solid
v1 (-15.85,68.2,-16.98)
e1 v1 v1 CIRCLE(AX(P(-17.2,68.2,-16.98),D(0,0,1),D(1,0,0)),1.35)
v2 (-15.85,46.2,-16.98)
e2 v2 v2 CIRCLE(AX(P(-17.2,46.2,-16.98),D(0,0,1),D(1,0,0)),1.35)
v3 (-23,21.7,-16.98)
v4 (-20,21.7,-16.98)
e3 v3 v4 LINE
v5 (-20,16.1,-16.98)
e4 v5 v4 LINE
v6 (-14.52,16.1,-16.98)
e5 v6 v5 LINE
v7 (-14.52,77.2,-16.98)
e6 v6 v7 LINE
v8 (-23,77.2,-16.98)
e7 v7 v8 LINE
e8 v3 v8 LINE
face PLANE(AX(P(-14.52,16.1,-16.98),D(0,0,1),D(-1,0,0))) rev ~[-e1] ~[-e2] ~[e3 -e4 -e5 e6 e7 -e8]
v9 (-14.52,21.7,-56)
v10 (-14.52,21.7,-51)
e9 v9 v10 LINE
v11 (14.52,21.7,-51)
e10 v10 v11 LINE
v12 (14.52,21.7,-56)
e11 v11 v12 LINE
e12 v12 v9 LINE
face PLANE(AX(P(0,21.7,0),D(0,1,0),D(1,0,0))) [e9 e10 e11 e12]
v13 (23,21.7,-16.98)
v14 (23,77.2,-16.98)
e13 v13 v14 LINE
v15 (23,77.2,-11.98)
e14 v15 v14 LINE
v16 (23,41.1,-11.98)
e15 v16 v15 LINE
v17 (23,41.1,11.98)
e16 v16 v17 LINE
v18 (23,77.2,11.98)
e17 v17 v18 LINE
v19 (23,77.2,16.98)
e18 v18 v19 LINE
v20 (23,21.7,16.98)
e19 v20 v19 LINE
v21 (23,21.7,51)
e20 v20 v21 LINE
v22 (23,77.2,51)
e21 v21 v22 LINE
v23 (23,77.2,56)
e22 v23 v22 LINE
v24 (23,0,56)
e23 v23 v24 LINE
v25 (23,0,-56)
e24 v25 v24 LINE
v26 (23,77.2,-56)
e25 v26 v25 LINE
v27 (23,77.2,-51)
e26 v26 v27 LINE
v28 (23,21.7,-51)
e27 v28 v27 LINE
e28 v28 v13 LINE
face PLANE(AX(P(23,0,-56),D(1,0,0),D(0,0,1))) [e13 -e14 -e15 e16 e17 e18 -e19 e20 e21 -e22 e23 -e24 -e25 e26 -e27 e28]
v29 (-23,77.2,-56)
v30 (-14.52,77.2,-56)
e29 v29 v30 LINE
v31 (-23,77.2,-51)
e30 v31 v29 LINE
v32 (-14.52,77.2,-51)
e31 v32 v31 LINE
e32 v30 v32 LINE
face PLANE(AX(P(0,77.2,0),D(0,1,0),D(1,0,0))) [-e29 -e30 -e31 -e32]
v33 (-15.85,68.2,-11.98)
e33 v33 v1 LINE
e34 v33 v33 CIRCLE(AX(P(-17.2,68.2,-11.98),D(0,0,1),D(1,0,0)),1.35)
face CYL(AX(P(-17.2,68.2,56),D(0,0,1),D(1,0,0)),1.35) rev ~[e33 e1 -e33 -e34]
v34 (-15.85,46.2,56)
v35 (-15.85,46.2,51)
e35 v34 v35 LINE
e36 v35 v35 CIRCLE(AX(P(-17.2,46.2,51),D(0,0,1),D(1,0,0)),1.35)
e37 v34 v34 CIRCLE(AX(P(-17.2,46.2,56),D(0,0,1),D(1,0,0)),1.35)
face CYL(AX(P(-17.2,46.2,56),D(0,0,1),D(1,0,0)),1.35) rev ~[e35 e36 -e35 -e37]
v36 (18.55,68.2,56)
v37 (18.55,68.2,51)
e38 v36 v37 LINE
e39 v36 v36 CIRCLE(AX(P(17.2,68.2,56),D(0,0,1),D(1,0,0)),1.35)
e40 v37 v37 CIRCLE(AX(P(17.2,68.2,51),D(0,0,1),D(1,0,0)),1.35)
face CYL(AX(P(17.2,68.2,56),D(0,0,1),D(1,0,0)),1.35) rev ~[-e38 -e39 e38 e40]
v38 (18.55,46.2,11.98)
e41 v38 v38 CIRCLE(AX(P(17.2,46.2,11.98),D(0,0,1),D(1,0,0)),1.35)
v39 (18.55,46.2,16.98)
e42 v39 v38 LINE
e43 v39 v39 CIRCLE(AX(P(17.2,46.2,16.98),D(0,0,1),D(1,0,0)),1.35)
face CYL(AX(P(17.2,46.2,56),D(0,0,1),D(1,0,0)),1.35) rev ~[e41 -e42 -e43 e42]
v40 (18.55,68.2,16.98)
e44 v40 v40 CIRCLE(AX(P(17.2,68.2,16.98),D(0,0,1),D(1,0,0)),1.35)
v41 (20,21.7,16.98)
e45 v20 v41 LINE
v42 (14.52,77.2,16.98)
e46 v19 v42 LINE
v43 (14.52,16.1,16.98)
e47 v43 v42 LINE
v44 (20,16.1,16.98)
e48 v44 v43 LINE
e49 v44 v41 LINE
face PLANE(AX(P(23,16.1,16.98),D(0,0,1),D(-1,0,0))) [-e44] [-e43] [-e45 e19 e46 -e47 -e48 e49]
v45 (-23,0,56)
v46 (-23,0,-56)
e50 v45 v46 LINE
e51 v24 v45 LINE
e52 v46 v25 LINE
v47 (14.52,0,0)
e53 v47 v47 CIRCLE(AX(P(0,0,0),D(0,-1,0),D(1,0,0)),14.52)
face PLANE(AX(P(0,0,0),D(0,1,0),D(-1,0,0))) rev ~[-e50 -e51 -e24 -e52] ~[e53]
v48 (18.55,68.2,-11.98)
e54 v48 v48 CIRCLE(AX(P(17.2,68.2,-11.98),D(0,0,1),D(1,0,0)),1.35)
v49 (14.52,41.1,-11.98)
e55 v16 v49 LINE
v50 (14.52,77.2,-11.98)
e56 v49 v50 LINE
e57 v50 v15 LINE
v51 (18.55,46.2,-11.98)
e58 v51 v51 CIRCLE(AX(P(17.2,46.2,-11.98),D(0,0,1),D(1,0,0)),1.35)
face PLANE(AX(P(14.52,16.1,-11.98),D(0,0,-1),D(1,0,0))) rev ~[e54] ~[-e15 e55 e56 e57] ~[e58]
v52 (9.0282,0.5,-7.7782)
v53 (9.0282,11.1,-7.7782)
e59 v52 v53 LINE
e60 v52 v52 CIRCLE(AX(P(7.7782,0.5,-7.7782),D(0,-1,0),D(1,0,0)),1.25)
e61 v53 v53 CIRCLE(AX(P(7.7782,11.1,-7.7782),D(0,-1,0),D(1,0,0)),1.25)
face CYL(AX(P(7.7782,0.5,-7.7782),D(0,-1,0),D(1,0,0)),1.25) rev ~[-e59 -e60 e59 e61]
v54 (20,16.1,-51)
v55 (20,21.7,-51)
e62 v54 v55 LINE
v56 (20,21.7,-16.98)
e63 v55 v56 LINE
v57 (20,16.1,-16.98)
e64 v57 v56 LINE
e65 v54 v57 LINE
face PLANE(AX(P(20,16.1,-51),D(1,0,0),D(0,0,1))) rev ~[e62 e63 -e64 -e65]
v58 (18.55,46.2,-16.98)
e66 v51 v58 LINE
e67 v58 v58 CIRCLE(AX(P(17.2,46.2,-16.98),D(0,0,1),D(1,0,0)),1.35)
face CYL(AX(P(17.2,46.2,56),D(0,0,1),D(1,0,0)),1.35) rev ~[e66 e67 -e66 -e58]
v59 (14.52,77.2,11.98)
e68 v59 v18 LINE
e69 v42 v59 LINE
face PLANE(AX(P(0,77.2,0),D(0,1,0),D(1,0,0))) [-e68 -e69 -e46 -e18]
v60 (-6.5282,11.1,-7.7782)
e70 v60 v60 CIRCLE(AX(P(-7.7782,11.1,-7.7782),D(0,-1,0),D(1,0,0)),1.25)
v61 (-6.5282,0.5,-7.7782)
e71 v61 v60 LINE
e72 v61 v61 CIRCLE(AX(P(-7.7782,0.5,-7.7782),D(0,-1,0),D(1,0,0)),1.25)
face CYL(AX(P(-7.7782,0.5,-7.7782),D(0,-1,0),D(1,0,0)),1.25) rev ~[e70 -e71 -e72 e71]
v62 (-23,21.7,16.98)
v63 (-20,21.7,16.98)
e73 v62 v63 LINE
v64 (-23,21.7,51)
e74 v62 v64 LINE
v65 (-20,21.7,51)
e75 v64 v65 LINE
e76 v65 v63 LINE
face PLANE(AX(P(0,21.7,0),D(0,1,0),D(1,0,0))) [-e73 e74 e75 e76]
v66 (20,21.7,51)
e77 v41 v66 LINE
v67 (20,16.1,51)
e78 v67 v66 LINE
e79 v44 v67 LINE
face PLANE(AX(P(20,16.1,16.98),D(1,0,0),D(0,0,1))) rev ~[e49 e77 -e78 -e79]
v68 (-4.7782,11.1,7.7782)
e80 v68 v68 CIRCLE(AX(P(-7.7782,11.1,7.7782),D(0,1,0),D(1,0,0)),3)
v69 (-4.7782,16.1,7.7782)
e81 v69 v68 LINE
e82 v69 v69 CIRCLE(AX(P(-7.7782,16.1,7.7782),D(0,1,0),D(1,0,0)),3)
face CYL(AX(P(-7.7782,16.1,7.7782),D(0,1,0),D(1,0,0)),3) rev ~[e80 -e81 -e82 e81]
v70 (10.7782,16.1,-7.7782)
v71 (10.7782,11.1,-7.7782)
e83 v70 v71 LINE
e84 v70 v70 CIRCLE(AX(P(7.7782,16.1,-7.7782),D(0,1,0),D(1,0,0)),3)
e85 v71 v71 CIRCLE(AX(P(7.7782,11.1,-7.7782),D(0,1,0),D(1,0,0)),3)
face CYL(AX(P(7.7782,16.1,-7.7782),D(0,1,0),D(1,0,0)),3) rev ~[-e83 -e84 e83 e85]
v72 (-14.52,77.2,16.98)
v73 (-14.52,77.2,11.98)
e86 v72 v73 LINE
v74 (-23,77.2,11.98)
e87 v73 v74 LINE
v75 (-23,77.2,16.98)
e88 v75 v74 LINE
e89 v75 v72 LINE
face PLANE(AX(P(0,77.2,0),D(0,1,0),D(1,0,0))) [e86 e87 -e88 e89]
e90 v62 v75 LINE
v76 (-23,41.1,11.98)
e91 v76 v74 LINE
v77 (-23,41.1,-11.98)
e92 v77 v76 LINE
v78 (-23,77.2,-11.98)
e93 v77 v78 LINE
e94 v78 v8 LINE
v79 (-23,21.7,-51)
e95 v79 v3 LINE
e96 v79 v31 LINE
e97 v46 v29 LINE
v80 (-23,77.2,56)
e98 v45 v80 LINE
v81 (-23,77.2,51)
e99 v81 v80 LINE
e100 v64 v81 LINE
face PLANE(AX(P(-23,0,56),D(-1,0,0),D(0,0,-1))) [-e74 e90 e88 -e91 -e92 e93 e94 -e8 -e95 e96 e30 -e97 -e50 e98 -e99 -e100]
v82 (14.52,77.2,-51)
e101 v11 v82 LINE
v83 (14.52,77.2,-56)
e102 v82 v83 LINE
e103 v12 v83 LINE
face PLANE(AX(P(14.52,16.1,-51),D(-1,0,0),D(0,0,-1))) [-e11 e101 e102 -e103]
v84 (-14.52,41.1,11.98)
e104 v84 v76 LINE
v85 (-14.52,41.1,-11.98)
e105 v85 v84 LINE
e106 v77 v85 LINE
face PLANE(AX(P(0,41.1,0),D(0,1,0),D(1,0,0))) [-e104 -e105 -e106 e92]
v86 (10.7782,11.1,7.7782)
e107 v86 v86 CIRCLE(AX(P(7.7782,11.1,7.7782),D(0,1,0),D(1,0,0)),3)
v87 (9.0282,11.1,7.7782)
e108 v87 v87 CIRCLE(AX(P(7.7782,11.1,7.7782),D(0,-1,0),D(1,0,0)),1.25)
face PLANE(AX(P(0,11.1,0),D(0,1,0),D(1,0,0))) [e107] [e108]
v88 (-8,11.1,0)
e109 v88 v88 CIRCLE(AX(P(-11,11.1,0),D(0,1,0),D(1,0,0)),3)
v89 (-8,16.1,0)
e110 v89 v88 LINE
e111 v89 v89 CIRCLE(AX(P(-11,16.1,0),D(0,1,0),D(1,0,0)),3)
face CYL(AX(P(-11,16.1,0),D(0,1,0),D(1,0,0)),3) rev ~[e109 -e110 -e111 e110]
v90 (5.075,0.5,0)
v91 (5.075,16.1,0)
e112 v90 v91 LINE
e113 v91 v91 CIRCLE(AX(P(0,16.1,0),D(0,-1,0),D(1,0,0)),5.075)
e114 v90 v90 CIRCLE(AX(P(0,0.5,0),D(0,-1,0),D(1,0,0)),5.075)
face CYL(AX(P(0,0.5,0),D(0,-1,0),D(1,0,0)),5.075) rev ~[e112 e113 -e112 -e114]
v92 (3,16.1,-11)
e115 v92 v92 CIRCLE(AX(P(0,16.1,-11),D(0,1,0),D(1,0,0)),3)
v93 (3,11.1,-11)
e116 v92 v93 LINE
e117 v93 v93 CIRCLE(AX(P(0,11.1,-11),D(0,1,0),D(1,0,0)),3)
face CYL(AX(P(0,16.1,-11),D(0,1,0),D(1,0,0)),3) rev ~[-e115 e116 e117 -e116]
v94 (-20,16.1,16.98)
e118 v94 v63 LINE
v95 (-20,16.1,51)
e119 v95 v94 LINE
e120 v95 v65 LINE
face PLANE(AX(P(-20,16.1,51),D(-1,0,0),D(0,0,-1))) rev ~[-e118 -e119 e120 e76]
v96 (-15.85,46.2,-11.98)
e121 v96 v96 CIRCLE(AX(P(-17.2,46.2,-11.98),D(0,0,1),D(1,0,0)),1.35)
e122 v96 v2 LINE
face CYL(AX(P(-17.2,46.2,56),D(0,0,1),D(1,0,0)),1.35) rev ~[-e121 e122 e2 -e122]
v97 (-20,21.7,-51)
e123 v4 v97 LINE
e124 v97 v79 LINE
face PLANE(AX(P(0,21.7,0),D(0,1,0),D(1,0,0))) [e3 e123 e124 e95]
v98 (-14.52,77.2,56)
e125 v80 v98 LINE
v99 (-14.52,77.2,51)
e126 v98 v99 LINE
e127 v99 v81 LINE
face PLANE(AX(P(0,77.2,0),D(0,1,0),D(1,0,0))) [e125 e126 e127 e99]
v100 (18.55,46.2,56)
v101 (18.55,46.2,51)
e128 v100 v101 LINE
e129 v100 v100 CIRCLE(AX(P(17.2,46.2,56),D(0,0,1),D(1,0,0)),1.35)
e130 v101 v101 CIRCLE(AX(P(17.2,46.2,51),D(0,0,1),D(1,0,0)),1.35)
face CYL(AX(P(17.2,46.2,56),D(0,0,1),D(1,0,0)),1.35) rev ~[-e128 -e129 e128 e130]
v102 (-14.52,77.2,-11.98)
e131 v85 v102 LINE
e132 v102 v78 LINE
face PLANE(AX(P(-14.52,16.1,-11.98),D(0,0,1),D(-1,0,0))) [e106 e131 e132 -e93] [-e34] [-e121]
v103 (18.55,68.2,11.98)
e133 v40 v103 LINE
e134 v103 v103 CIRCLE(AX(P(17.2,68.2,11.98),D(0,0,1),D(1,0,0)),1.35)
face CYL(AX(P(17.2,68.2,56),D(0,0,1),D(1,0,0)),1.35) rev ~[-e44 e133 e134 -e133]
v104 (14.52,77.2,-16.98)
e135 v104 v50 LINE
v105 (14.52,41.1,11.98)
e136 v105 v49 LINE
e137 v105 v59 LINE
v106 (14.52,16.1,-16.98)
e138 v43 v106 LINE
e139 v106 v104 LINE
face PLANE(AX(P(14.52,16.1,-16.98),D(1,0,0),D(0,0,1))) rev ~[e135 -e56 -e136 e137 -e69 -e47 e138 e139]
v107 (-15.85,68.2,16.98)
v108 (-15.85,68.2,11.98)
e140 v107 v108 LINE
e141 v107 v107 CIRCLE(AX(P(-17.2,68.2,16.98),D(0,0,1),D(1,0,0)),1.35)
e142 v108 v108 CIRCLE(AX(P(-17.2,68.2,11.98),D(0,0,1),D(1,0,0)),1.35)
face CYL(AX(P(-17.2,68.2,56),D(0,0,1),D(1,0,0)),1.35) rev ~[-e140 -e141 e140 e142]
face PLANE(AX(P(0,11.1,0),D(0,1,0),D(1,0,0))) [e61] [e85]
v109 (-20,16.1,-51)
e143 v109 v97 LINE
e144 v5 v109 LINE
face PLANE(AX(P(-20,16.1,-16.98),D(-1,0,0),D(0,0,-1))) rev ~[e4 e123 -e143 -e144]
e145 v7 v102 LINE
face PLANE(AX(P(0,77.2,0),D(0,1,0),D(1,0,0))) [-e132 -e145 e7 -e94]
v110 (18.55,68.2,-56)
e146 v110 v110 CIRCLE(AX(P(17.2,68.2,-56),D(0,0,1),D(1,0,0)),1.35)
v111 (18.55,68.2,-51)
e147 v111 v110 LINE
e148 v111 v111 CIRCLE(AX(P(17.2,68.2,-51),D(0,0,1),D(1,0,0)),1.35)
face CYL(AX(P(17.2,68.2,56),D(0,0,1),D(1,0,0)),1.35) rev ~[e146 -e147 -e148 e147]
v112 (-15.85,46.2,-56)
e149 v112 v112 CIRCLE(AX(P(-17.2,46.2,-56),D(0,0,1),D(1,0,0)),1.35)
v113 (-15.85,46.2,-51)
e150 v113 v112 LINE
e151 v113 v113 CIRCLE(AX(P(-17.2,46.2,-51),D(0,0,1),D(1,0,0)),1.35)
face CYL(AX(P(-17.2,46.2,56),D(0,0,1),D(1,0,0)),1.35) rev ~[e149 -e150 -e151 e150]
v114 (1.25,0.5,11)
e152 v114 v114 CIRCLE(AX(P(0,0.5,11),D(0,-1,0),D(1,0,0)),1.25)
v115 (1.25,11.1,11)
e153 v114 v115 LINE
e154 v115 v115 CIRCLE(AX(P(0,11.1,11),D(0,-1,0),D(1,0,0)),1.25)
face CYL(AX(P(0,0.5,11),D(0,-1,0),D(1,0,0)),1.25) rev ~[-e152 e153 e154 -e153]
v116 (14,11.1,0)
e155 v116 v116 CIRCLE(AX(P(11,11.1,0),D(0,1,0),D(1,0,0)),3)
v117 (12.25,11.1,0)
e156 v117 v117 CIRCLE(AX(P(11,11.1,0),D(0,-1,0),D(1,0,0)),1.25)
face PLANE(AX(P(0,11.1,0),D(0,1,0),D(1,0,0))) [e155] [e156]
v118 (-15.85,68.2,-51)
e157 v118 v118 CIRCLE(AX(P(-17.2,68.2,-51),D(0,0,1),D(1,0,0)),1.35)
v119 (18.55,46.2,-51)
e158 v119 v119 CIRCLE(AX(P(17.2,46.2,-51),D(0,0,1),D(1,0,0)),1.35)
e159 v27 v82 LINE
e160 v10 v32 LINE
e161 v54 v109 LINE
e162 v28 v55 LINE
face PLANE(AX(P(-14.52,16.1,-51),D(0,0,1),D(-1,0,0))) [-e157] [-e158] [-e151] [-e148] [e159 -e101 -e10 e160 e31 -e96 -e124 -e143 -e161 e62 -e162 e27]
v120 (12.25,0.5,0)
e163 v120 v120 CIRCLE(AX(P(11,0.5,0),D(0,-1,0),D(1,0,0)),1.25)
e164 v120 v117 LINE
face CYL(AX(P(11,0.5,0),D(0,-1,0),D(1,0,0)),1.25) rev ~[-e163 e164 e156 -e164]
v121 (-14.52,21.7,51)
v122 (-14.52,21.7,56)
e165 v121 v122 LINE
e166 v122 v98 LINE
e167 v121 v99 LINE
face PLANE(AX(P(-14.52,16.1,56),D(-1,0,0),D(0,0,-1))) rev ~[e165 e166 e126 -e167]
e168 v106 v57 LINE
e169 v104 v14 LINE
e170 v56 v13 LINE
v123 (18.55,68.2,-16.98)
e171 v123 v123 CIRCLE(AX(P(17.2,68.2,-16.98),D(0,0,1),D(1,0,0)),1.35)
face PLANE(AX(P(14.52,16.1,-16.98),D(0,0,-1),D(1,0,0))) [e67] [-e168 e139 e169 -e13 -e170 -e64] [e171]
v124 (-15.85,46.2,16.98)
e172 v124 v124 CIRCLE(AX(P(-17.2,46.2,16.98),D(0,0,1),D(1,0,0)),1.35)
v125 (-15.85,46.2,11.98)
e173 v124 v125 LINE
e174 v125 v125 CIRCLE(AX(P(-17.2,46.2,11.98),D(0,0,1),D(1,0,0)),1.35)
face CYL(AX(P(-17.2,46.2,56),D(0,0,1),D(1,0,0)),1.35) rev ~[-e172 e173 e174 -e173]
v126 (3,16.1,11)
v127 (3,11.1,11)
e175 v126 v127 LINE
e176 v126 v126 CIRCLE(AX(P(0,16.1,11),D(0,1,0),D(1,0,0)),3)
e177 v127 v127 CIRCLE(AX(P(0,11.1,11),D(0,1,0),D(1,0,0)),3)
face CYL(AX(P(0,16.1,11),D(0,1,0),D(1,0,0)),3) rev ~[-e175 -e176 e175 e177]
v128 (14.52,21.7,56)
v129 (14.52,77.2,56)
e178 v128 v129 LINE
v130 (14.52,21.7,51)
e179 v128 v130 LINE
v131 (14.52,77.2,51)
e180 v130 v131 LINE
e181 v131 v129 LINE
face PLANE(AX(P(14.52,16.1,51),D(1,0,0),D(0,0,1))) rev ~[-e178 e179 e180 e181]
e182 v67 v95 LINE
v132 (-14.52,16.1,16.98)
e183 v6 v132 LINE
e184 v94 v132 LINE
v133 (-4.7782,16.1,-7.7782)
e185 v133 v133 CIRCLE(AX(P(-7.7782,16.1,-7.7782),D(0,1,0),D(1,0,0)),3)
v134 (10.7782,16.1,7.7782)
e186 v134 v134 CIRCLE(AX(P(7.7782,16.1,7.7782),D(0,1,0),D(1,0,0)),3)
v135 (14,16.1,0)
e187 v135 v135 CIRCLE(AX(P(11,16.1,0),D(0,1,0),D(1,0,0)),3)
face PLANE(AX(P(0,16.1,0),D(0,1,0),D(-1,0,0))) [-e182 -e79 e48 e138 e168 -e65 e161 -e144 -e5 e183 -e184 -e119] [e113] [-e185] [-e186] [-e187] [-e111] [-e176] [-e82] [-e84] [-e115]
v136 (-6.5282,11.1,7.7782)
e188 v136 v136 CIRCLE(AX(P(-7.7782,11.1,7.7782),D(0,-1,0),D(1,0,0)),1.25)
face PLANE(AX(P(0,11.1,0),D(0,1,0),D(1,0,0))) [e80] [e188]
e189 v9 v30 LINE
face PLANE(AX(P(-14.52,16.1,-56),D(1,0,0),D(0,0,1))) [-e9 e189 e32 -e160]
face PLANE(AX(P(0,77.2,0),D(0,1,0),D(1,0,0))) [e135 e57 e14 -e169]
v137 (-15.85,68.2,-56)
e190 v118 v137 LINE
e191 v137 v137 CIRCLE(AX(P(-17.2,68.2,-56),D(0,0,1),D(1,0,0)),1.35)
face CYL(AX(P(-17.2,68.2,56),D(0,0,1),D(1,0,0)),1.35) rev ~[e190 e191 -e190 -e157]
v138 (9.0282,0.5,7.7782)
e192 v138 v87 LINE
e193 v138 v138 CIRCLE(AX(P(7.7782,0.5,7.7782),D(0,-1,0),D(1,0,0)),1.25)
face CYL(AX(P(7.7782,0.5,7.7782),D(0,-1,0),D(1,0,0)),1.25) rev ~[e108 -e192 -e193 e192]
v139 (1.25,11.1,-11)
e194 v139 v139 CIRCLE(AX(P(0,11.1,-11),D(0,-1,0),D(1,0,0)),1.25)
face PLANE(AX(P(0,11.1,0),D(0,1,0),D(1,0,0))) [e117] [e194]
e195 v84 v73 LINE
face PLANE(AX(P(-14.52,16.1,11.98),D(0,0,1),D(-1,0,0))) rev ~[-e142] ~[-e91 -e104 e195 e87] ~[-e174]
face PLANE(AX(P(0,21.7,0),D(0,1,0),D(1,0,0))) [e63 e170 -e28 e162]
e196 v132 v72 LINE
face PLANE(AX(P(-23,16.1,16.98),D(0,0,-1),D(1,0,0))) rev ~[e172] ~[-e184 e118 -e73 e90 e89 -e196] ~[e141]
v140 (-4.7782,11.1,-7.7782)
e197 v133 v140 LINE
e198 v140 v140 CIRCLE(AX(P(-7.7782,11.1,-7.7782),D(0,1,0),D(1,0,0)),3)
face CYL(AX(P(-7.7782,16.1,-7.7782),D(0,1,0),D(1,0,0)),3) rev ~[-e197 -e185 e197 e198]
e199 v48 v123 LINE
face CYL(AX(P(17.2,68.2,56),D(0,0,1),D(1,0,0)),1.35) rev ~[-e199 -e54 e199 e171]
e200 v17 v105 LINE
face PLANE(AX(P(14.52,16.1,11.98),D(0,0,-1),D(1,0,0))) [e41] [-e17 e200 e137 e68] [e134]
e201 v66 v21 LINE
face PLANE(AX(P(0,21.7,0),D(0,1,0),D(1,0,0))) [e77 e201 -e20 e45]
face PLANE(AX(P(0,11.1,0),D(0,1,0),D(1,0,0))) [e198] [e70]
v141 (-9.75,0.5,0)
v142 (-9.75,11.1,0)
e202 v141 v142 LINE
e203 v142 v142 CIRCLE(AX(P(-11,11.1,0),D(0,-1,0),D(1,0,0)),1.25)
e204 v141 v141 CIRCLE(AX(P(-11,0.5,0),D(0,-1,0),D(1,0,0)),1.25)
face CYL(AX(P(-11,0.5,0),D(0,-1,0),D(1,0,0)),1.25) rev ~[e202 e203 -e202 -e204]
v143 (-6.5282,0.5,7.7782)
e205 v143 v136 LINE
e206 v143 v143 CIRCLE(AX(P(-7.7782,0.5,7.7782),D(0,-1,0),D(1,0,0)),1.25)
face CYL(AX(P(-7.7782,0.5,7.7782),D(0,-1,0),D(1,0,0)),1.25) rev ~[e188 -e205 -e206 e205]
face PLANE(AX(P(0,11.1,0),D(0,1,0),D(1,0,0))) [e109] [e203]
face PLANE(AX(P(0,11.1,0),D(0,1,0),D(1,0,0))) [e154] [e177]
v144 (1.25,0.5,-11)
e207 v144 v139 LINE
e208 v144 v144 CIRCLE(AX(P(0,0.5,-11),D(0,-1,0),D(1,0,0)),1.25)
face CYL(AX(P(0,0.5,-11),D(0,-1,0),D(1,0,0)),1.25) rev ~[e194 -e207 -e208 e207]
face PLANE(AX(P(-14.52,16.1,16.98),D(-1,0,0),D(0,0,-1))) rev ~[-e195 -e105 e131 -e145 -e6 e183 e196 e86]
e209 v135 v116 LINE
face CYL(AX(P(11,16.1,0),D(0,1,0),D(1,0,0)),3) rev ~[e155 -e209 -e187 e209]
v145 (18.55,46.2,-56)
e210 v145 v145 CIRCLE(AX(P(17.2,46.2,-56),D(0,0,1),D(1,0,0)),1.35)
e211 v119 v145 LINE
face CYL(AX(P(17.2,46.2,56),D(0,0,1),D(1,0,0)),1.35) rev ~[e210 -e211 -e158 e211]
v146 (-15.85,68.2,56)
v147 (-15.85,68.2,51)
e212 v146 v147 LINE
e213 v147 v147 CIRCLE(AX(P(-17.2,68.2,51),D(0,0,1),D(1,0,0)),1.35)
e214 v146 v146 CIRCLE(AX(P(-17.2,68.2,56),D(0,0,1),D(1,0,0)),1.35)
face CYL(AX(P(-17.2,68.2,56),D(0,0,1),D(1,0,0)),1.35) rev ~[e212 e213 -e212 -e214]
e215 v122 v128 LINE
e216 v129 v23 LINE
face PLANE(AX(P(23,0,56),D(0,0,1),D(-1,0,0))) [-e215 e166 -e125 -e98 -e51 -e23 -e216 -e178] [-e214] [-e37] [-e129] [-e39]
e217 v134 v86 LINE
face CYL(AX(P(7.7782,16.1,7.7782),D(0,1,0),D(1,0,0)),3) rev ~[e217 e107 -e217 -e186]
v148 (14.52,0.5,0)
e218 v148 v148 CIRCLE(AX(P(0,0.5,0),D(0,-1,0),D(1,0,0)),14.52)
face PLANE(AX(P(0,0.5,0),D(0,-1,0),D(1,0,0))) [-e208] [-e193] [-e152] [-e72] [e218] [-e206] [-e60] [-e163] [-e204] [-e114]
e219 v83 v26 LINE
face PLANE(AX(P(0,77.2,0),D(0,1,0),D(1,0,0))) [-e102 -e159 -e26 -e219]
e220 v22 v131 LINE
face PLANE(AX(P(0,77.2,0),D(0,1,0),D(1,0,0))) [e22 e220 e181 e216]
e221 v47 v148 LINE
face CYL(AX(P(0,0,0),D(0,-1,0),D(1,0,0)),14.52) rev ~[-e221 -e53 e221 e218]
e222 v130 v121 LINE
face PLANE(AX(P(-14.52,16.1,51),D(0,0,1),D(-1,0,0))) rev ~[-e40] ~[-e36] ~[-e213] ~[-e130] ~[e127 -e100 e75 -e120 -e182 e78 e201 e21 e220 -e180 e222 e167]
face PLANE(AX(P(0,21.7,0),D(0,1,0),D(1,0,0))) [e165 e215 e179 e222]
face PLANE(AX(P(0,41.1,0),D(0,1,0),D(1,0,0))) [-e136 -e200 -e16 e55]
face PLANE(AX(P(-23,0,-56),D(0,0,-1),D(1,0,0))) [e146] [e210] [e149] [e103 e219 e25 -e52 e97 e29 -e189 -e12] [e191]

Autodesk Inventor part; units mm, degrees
ref_plane "YZ Plane" through (0, 0, 0) normal (1, 0, 0) x (0, 1, 0)
ref_plane "XZ Plane" through (0, 0, 0) normal (0, 1, 0) x (-1, 0, 0)
ref_plane "XY Plane" through (0, 0, 0) normal (0, 0, 1) x (1, 0, 0)
sketch "스케치1" plane through (0, 0, 0) normal (0, 1, 0) x (-1, 0, 0)
  line L0 (23, -56) -> (-23, -56)
  line L1 (-23, -56) -> (-23, 56)
  line L2 (-23, 56) -> (23, 56)
  line L3 (23, 56) -> (23, -56)
  point P0 (0, 0)
  dimension "d0" = 112
  dimension "d1" = 56
  dimension "d2" = 46
  dimension "d3" = 23
extrude "돌출1" add sketch "스케치1" along normal blind 16.1
sketch "스케치2" plane through (0, 0, 0) normal (0, -1, 0) x (1, 0, 0)
  circle A0 centre (0, 0) radius 14.52
  dimension "d6" = 29.04
extrude "돌출2" cut sketch "스케치2" against normal blind 0.5
sketch "스케치3" plane through (0, 0.5, 0) normal (0, -1, 0) x (1, 0, 0)
  circle A0 centre (0, 0) radius 5.075
  circle A1 centre (0, 11) radius 1.25
  circle A2 centre (-7.7782, 7.7782) radius 1.25
  circle A3 centre (-11, 0) radius 1.25
  circle A4 centre (-7.7782, -7.7782) radius 1.25
  circle A5 centre (0, -11) radius 1.25
  circle A6 centre (7.7782, -7.7782) radius 1.25
  circle A7 centre (11, 0) radius 1.25
  circle A8 centre (7.7782, 7.7782) radius 1.25
  dimension "d9" = 10.15
  dimension "d10" = 2.5
  dimension "d11" = 11
  dimension "d14" = 360
extrude "돌출3" cut sketch "스케치3" against normal blind 30
sketch "스케치4" plane through (0, 16.1, 0) normal (0, 1, 0) x (1, 0, 0)
  circle A0 centre (0, -11) radius 1.25 projected
  circle A1 centre (0, -11) radius 3
  circle A2 centre (7.7782, -7.7782) radius 3
  circle A3 centre (11, 0) radius 3
  circle A4 centre (7.7782, 7.7782) radius 3
  circle A5 centre (0, 11) radius 3
  circle A6 centre (-7.7782, 7.7782) radius 3
  circle A7 centre (-11, 0) radius 3
  circle A8 centre (-7.7782, -7.7782) radius 3
  point P0 (0, 0)
  dimension "d18" = 6
  dimension "d21" = 360
extrude "돌출4" cut sketch "스케치4" against normal blind 5 contours A0 | A1 | A2 | A3 | A4 | A5 | A6 | A7 | A8
sketch "스케치5" plane through (0, 16.1, 0) normal (0, 1, 0) x (1, 0, 0)
  line L0 (-23, -56) -> (23, -56)
  line L1 (23, -56) -> (23, -51)
  line L2 (23, -51) -> (-23, -51)
  line L3 (-23, -51) -> (-23, -56)
  line L4 (-23, -56) -> (23, -56) projected
  line L5 (-14.52, -51) -> (14.52, -51)
  line L6 (14.52, -51) -> (14.52, -56)
  line L7 (14.52, -56) -> (-14.52, -56)
  line L8 (-14.52, -56) -> (-14.52, -51)
  line L9 (0, 0) -> (-19.344, 0)
  line L10 (-23, 56) -> (23, 56)
  line L11 (23, 56) -> (23, 51)
  line L12 (23, 51) -> (-23, 51)
  line L13 (-23, 51) -> (-23, 56)
  line L14 (-23, 56) -> (23, 56)
  line L15 (-14.52, 51) -> (14.52, 51)
  line L16 (14.52, 51) -> (14.52, 56)
  line L17 (14.52, 56) -> (-14.52, 56)
  line L18 (-14.52, 56) -> (-14.52, 51)
  point P0 (-23, 56)
  dimension "d25" = 5
  dimension "d27" = 29.04
  dimension "d28" = 14.52
extrude "돌출5" add sketch "스케치5" along normal blind 61.1 contours L3 L2 L8 L0 | L6 L2 L1 L0 | L10 L18 L12 L13 | L10 L11 L12 L16
sketch "스케치6" plane through (0, 16.1, 0) normal (0, 1, 0) x (1, 0, 0)
  line L0 (-23, -56) -> (-23, 56) projected
  line L1 (-23, -16.98) -> (-14.52, -16.98)
  line L2 (-14.52, 16.98) -> (-23, 16.98)
  line L3 (-14.52, -51) -> (-23, -51) projected
  line L4 (-23, 51) -> (-14.52, 51) projected
  line L5 (-23, -16.98) -> (-14.52, -16.98)
  line L6 (-14.52, -16.98) -> (-14.52, -11.98)
  line L7 (-14.52, -11.98) -> (-23, -11.98)
  line L8 (-23, -11.98) -> (-23, -16.98)
  line L9 (-23, 16.98) -> (-14.52, 16.98)
  line L10 (-14.52, 16.98) -> (-14.52, 11.98)
  line L11 (-14.52, 11.98) -> (-23, 11.98)
  line L12 (-23, 11.98) -> (-23, 16.98)
  circle A0 centre (0, 0) radius 14.52 projected
  line L13 (0, 0) -> (0, -35.0493)
  line L14 (23, -16.98) -> (14.52, -16.98)
  line L15 (14.52, 16.98) -> (23, 16.98)
  line L16 (23, -16.98) -> (14.52, -16.98)
  line L17 (14.52, -16.98) -> (14.52, -11.98)
  line L18 (14.52, -11.98) -> (23, -11.98)
  line L19 (23, -11.98) -> (23, -16.98)
  line L20 (23, 16.98) -> (14.52, 16.98)
  line L21 (14.52, 16.98) -> (14.52, 11.98)
  line L22 (14.52, 11.98) -> (23, 11.98)
  line L23 (23, 11.98) -> (23, 16.98)
  dimension "d31" = 34.02
  dimension "d32" = 34.02
  dimension "d34" = 5
  dimension "d35" = 5
  dimension "d36" = 8.48
  dimension "d37" = 8.48
extrude "돌출6" add sketch "스케치6" along normal blind 61.1 contours L0 L2 L10 L11 | L0 L7 L6 L1 | L14 L17 L18 L19 | L15 L23 L22 L21
sketch "스케치7" plane through (0, 16.1, 0) normal (0, 1, 0) x (1, 0, 0)
  line L0 (-14.52, -51) -> (-14.52, -56) projected
  line L1 (14.52, -51) -> (23, -51) projected
  line L2 (-14.52, -56) -> (14.52, -56)
  line L3 (14.52, -56) -> (14.52, -51)
  line L4 (14.52, -51) -> (-14.52, -51)
  line L5 (-14.52, -51) -> (-14.52, -56)
  line L6 (-14.52, 51) -> (-23, 51) projected
  line L7 (14.52, 51) -> (14.52, 56) projected
  line L8 (-14.52, 51) -> (14.52, 51)
  line L9 (14.52, 51) -> (14.52, 56)
  line L10 (14.52, 56) -> (-14.52, 56)
  line L11 (-14.52, 56) -> (-14.52, 51)
  line L12 (-23, -16.98) -> (-23, -51) projected
  line L13 (-23, -16.98) -> (-14.52, -16.98) projected
  line L14 (-23, -51) -> (-20, -51)
  line L15 (-20, -51) -> (-20, -16.98)
  line L16 (-20, -16.98) -> (-23, -16.98)
  line L17 (-23, -16.98) -> (-23, -51)
  line L18 (-23, 16.98) -> (-14.52, 16.98) projected
  line L19 (-23, 16.98) -> (-20, 16.98)
  line L20 (-20, 16.98) -> (-20, 51)
  line L21 (-20, 51) -> (-23, 51)
  line L22 (-23, 51) -> (-23, 16.98)
  line L23 (23, 56) -> (23, -56) projected
  line L24 (23, 51) -> (20, 51)
  line L25 (20, 51) -> (20, 16.98)
  line L26 (20, 16.98) -> (23, 16.98)
  line L27 (23, 16.98) -> (23, 51)
  line L28 (23, -51) -> (23, -16.98) projected
  line L29 (23, -16.98) -> (20, -16.98)
  line L30 (20, -16.98) -> (20, -51)
  line L31 (20, -51) -> (23, -51)
  line L32 (23, -51) -> (23, -16.98)
  point P0 (0, 0)
  dimension "d40" = 3
  dimension "d41" = 3
  dimension "d42" = 3
  dimension "d43" = 3
extrude "돌출7" add sketch "스케치7" along normal blind 5.6
sketch "스케치8" plane through (0, 16.1, 0) normal (0, 1, 0) x (1, 0, 0)
  line L0 (23, 11.98) -> (14.52, 11.98) projected
  line L1 (23, -11.98) -> (14.52, -11.98)
  line L2 (14.52, -11.98) -> (14.52, 11.98)
  line L3 (14.52, 11.98) -> (23, 11.98)
  line L4 (23, 11.98) -> (23, -11.98)
  line L5 (-23, 11.98) -> (-23, -11.98) projected
  line L6 (-14.52, -11.98) -> (-14.52, -16.98) projected
  line L7 (-23, 11.98) -> (-14.52, 11.98)
  line L8 (-14.52, 11.98) -> (-14.52, -11.98)
  line L9 (-14.52, -11.98) -> (-23, -11.98)
  line L10 (-23, -11.98) -> (-23, 11.98)
  point P0 (0, 0)
extrude "돌출8" add sketch "스케치8" along normal blind 25
sketch "스케치9" plane through (-23, 0, 56) normal (0, 0, 1) x (1, 0, 0)
  circle A0 centre (5.8, 68.2) radius 1.35
  line L0 (0, 77.2) -> (8.48, 77.2) projected
  line L1 (0, 0) -> (0, 77.2) projected
  circle A1 centre (5.8, 46.2) radius 1.35
  line L2 (23, 0) -> (23, 16.9494)
  circle A2 centre (40.2, 68.2) radius 1.35
  circle A3 centre (40.2, 46.2) radius 1.35
  dimension "d48" = 9
  dimension "d49" = 5.8
  dimension "d50" = 22
  dimension "d51" = 2.7
  dimension "d52" = 2.7
  dimension "d53" = 5.8
extrude "돌출9" cut sketch "스케치9" against normal blind 300
equation "\"TransitionRadius\" = BendRadius"
equation "\"BendRadius\" = 0.5"
properties part number "shoulder_5"
